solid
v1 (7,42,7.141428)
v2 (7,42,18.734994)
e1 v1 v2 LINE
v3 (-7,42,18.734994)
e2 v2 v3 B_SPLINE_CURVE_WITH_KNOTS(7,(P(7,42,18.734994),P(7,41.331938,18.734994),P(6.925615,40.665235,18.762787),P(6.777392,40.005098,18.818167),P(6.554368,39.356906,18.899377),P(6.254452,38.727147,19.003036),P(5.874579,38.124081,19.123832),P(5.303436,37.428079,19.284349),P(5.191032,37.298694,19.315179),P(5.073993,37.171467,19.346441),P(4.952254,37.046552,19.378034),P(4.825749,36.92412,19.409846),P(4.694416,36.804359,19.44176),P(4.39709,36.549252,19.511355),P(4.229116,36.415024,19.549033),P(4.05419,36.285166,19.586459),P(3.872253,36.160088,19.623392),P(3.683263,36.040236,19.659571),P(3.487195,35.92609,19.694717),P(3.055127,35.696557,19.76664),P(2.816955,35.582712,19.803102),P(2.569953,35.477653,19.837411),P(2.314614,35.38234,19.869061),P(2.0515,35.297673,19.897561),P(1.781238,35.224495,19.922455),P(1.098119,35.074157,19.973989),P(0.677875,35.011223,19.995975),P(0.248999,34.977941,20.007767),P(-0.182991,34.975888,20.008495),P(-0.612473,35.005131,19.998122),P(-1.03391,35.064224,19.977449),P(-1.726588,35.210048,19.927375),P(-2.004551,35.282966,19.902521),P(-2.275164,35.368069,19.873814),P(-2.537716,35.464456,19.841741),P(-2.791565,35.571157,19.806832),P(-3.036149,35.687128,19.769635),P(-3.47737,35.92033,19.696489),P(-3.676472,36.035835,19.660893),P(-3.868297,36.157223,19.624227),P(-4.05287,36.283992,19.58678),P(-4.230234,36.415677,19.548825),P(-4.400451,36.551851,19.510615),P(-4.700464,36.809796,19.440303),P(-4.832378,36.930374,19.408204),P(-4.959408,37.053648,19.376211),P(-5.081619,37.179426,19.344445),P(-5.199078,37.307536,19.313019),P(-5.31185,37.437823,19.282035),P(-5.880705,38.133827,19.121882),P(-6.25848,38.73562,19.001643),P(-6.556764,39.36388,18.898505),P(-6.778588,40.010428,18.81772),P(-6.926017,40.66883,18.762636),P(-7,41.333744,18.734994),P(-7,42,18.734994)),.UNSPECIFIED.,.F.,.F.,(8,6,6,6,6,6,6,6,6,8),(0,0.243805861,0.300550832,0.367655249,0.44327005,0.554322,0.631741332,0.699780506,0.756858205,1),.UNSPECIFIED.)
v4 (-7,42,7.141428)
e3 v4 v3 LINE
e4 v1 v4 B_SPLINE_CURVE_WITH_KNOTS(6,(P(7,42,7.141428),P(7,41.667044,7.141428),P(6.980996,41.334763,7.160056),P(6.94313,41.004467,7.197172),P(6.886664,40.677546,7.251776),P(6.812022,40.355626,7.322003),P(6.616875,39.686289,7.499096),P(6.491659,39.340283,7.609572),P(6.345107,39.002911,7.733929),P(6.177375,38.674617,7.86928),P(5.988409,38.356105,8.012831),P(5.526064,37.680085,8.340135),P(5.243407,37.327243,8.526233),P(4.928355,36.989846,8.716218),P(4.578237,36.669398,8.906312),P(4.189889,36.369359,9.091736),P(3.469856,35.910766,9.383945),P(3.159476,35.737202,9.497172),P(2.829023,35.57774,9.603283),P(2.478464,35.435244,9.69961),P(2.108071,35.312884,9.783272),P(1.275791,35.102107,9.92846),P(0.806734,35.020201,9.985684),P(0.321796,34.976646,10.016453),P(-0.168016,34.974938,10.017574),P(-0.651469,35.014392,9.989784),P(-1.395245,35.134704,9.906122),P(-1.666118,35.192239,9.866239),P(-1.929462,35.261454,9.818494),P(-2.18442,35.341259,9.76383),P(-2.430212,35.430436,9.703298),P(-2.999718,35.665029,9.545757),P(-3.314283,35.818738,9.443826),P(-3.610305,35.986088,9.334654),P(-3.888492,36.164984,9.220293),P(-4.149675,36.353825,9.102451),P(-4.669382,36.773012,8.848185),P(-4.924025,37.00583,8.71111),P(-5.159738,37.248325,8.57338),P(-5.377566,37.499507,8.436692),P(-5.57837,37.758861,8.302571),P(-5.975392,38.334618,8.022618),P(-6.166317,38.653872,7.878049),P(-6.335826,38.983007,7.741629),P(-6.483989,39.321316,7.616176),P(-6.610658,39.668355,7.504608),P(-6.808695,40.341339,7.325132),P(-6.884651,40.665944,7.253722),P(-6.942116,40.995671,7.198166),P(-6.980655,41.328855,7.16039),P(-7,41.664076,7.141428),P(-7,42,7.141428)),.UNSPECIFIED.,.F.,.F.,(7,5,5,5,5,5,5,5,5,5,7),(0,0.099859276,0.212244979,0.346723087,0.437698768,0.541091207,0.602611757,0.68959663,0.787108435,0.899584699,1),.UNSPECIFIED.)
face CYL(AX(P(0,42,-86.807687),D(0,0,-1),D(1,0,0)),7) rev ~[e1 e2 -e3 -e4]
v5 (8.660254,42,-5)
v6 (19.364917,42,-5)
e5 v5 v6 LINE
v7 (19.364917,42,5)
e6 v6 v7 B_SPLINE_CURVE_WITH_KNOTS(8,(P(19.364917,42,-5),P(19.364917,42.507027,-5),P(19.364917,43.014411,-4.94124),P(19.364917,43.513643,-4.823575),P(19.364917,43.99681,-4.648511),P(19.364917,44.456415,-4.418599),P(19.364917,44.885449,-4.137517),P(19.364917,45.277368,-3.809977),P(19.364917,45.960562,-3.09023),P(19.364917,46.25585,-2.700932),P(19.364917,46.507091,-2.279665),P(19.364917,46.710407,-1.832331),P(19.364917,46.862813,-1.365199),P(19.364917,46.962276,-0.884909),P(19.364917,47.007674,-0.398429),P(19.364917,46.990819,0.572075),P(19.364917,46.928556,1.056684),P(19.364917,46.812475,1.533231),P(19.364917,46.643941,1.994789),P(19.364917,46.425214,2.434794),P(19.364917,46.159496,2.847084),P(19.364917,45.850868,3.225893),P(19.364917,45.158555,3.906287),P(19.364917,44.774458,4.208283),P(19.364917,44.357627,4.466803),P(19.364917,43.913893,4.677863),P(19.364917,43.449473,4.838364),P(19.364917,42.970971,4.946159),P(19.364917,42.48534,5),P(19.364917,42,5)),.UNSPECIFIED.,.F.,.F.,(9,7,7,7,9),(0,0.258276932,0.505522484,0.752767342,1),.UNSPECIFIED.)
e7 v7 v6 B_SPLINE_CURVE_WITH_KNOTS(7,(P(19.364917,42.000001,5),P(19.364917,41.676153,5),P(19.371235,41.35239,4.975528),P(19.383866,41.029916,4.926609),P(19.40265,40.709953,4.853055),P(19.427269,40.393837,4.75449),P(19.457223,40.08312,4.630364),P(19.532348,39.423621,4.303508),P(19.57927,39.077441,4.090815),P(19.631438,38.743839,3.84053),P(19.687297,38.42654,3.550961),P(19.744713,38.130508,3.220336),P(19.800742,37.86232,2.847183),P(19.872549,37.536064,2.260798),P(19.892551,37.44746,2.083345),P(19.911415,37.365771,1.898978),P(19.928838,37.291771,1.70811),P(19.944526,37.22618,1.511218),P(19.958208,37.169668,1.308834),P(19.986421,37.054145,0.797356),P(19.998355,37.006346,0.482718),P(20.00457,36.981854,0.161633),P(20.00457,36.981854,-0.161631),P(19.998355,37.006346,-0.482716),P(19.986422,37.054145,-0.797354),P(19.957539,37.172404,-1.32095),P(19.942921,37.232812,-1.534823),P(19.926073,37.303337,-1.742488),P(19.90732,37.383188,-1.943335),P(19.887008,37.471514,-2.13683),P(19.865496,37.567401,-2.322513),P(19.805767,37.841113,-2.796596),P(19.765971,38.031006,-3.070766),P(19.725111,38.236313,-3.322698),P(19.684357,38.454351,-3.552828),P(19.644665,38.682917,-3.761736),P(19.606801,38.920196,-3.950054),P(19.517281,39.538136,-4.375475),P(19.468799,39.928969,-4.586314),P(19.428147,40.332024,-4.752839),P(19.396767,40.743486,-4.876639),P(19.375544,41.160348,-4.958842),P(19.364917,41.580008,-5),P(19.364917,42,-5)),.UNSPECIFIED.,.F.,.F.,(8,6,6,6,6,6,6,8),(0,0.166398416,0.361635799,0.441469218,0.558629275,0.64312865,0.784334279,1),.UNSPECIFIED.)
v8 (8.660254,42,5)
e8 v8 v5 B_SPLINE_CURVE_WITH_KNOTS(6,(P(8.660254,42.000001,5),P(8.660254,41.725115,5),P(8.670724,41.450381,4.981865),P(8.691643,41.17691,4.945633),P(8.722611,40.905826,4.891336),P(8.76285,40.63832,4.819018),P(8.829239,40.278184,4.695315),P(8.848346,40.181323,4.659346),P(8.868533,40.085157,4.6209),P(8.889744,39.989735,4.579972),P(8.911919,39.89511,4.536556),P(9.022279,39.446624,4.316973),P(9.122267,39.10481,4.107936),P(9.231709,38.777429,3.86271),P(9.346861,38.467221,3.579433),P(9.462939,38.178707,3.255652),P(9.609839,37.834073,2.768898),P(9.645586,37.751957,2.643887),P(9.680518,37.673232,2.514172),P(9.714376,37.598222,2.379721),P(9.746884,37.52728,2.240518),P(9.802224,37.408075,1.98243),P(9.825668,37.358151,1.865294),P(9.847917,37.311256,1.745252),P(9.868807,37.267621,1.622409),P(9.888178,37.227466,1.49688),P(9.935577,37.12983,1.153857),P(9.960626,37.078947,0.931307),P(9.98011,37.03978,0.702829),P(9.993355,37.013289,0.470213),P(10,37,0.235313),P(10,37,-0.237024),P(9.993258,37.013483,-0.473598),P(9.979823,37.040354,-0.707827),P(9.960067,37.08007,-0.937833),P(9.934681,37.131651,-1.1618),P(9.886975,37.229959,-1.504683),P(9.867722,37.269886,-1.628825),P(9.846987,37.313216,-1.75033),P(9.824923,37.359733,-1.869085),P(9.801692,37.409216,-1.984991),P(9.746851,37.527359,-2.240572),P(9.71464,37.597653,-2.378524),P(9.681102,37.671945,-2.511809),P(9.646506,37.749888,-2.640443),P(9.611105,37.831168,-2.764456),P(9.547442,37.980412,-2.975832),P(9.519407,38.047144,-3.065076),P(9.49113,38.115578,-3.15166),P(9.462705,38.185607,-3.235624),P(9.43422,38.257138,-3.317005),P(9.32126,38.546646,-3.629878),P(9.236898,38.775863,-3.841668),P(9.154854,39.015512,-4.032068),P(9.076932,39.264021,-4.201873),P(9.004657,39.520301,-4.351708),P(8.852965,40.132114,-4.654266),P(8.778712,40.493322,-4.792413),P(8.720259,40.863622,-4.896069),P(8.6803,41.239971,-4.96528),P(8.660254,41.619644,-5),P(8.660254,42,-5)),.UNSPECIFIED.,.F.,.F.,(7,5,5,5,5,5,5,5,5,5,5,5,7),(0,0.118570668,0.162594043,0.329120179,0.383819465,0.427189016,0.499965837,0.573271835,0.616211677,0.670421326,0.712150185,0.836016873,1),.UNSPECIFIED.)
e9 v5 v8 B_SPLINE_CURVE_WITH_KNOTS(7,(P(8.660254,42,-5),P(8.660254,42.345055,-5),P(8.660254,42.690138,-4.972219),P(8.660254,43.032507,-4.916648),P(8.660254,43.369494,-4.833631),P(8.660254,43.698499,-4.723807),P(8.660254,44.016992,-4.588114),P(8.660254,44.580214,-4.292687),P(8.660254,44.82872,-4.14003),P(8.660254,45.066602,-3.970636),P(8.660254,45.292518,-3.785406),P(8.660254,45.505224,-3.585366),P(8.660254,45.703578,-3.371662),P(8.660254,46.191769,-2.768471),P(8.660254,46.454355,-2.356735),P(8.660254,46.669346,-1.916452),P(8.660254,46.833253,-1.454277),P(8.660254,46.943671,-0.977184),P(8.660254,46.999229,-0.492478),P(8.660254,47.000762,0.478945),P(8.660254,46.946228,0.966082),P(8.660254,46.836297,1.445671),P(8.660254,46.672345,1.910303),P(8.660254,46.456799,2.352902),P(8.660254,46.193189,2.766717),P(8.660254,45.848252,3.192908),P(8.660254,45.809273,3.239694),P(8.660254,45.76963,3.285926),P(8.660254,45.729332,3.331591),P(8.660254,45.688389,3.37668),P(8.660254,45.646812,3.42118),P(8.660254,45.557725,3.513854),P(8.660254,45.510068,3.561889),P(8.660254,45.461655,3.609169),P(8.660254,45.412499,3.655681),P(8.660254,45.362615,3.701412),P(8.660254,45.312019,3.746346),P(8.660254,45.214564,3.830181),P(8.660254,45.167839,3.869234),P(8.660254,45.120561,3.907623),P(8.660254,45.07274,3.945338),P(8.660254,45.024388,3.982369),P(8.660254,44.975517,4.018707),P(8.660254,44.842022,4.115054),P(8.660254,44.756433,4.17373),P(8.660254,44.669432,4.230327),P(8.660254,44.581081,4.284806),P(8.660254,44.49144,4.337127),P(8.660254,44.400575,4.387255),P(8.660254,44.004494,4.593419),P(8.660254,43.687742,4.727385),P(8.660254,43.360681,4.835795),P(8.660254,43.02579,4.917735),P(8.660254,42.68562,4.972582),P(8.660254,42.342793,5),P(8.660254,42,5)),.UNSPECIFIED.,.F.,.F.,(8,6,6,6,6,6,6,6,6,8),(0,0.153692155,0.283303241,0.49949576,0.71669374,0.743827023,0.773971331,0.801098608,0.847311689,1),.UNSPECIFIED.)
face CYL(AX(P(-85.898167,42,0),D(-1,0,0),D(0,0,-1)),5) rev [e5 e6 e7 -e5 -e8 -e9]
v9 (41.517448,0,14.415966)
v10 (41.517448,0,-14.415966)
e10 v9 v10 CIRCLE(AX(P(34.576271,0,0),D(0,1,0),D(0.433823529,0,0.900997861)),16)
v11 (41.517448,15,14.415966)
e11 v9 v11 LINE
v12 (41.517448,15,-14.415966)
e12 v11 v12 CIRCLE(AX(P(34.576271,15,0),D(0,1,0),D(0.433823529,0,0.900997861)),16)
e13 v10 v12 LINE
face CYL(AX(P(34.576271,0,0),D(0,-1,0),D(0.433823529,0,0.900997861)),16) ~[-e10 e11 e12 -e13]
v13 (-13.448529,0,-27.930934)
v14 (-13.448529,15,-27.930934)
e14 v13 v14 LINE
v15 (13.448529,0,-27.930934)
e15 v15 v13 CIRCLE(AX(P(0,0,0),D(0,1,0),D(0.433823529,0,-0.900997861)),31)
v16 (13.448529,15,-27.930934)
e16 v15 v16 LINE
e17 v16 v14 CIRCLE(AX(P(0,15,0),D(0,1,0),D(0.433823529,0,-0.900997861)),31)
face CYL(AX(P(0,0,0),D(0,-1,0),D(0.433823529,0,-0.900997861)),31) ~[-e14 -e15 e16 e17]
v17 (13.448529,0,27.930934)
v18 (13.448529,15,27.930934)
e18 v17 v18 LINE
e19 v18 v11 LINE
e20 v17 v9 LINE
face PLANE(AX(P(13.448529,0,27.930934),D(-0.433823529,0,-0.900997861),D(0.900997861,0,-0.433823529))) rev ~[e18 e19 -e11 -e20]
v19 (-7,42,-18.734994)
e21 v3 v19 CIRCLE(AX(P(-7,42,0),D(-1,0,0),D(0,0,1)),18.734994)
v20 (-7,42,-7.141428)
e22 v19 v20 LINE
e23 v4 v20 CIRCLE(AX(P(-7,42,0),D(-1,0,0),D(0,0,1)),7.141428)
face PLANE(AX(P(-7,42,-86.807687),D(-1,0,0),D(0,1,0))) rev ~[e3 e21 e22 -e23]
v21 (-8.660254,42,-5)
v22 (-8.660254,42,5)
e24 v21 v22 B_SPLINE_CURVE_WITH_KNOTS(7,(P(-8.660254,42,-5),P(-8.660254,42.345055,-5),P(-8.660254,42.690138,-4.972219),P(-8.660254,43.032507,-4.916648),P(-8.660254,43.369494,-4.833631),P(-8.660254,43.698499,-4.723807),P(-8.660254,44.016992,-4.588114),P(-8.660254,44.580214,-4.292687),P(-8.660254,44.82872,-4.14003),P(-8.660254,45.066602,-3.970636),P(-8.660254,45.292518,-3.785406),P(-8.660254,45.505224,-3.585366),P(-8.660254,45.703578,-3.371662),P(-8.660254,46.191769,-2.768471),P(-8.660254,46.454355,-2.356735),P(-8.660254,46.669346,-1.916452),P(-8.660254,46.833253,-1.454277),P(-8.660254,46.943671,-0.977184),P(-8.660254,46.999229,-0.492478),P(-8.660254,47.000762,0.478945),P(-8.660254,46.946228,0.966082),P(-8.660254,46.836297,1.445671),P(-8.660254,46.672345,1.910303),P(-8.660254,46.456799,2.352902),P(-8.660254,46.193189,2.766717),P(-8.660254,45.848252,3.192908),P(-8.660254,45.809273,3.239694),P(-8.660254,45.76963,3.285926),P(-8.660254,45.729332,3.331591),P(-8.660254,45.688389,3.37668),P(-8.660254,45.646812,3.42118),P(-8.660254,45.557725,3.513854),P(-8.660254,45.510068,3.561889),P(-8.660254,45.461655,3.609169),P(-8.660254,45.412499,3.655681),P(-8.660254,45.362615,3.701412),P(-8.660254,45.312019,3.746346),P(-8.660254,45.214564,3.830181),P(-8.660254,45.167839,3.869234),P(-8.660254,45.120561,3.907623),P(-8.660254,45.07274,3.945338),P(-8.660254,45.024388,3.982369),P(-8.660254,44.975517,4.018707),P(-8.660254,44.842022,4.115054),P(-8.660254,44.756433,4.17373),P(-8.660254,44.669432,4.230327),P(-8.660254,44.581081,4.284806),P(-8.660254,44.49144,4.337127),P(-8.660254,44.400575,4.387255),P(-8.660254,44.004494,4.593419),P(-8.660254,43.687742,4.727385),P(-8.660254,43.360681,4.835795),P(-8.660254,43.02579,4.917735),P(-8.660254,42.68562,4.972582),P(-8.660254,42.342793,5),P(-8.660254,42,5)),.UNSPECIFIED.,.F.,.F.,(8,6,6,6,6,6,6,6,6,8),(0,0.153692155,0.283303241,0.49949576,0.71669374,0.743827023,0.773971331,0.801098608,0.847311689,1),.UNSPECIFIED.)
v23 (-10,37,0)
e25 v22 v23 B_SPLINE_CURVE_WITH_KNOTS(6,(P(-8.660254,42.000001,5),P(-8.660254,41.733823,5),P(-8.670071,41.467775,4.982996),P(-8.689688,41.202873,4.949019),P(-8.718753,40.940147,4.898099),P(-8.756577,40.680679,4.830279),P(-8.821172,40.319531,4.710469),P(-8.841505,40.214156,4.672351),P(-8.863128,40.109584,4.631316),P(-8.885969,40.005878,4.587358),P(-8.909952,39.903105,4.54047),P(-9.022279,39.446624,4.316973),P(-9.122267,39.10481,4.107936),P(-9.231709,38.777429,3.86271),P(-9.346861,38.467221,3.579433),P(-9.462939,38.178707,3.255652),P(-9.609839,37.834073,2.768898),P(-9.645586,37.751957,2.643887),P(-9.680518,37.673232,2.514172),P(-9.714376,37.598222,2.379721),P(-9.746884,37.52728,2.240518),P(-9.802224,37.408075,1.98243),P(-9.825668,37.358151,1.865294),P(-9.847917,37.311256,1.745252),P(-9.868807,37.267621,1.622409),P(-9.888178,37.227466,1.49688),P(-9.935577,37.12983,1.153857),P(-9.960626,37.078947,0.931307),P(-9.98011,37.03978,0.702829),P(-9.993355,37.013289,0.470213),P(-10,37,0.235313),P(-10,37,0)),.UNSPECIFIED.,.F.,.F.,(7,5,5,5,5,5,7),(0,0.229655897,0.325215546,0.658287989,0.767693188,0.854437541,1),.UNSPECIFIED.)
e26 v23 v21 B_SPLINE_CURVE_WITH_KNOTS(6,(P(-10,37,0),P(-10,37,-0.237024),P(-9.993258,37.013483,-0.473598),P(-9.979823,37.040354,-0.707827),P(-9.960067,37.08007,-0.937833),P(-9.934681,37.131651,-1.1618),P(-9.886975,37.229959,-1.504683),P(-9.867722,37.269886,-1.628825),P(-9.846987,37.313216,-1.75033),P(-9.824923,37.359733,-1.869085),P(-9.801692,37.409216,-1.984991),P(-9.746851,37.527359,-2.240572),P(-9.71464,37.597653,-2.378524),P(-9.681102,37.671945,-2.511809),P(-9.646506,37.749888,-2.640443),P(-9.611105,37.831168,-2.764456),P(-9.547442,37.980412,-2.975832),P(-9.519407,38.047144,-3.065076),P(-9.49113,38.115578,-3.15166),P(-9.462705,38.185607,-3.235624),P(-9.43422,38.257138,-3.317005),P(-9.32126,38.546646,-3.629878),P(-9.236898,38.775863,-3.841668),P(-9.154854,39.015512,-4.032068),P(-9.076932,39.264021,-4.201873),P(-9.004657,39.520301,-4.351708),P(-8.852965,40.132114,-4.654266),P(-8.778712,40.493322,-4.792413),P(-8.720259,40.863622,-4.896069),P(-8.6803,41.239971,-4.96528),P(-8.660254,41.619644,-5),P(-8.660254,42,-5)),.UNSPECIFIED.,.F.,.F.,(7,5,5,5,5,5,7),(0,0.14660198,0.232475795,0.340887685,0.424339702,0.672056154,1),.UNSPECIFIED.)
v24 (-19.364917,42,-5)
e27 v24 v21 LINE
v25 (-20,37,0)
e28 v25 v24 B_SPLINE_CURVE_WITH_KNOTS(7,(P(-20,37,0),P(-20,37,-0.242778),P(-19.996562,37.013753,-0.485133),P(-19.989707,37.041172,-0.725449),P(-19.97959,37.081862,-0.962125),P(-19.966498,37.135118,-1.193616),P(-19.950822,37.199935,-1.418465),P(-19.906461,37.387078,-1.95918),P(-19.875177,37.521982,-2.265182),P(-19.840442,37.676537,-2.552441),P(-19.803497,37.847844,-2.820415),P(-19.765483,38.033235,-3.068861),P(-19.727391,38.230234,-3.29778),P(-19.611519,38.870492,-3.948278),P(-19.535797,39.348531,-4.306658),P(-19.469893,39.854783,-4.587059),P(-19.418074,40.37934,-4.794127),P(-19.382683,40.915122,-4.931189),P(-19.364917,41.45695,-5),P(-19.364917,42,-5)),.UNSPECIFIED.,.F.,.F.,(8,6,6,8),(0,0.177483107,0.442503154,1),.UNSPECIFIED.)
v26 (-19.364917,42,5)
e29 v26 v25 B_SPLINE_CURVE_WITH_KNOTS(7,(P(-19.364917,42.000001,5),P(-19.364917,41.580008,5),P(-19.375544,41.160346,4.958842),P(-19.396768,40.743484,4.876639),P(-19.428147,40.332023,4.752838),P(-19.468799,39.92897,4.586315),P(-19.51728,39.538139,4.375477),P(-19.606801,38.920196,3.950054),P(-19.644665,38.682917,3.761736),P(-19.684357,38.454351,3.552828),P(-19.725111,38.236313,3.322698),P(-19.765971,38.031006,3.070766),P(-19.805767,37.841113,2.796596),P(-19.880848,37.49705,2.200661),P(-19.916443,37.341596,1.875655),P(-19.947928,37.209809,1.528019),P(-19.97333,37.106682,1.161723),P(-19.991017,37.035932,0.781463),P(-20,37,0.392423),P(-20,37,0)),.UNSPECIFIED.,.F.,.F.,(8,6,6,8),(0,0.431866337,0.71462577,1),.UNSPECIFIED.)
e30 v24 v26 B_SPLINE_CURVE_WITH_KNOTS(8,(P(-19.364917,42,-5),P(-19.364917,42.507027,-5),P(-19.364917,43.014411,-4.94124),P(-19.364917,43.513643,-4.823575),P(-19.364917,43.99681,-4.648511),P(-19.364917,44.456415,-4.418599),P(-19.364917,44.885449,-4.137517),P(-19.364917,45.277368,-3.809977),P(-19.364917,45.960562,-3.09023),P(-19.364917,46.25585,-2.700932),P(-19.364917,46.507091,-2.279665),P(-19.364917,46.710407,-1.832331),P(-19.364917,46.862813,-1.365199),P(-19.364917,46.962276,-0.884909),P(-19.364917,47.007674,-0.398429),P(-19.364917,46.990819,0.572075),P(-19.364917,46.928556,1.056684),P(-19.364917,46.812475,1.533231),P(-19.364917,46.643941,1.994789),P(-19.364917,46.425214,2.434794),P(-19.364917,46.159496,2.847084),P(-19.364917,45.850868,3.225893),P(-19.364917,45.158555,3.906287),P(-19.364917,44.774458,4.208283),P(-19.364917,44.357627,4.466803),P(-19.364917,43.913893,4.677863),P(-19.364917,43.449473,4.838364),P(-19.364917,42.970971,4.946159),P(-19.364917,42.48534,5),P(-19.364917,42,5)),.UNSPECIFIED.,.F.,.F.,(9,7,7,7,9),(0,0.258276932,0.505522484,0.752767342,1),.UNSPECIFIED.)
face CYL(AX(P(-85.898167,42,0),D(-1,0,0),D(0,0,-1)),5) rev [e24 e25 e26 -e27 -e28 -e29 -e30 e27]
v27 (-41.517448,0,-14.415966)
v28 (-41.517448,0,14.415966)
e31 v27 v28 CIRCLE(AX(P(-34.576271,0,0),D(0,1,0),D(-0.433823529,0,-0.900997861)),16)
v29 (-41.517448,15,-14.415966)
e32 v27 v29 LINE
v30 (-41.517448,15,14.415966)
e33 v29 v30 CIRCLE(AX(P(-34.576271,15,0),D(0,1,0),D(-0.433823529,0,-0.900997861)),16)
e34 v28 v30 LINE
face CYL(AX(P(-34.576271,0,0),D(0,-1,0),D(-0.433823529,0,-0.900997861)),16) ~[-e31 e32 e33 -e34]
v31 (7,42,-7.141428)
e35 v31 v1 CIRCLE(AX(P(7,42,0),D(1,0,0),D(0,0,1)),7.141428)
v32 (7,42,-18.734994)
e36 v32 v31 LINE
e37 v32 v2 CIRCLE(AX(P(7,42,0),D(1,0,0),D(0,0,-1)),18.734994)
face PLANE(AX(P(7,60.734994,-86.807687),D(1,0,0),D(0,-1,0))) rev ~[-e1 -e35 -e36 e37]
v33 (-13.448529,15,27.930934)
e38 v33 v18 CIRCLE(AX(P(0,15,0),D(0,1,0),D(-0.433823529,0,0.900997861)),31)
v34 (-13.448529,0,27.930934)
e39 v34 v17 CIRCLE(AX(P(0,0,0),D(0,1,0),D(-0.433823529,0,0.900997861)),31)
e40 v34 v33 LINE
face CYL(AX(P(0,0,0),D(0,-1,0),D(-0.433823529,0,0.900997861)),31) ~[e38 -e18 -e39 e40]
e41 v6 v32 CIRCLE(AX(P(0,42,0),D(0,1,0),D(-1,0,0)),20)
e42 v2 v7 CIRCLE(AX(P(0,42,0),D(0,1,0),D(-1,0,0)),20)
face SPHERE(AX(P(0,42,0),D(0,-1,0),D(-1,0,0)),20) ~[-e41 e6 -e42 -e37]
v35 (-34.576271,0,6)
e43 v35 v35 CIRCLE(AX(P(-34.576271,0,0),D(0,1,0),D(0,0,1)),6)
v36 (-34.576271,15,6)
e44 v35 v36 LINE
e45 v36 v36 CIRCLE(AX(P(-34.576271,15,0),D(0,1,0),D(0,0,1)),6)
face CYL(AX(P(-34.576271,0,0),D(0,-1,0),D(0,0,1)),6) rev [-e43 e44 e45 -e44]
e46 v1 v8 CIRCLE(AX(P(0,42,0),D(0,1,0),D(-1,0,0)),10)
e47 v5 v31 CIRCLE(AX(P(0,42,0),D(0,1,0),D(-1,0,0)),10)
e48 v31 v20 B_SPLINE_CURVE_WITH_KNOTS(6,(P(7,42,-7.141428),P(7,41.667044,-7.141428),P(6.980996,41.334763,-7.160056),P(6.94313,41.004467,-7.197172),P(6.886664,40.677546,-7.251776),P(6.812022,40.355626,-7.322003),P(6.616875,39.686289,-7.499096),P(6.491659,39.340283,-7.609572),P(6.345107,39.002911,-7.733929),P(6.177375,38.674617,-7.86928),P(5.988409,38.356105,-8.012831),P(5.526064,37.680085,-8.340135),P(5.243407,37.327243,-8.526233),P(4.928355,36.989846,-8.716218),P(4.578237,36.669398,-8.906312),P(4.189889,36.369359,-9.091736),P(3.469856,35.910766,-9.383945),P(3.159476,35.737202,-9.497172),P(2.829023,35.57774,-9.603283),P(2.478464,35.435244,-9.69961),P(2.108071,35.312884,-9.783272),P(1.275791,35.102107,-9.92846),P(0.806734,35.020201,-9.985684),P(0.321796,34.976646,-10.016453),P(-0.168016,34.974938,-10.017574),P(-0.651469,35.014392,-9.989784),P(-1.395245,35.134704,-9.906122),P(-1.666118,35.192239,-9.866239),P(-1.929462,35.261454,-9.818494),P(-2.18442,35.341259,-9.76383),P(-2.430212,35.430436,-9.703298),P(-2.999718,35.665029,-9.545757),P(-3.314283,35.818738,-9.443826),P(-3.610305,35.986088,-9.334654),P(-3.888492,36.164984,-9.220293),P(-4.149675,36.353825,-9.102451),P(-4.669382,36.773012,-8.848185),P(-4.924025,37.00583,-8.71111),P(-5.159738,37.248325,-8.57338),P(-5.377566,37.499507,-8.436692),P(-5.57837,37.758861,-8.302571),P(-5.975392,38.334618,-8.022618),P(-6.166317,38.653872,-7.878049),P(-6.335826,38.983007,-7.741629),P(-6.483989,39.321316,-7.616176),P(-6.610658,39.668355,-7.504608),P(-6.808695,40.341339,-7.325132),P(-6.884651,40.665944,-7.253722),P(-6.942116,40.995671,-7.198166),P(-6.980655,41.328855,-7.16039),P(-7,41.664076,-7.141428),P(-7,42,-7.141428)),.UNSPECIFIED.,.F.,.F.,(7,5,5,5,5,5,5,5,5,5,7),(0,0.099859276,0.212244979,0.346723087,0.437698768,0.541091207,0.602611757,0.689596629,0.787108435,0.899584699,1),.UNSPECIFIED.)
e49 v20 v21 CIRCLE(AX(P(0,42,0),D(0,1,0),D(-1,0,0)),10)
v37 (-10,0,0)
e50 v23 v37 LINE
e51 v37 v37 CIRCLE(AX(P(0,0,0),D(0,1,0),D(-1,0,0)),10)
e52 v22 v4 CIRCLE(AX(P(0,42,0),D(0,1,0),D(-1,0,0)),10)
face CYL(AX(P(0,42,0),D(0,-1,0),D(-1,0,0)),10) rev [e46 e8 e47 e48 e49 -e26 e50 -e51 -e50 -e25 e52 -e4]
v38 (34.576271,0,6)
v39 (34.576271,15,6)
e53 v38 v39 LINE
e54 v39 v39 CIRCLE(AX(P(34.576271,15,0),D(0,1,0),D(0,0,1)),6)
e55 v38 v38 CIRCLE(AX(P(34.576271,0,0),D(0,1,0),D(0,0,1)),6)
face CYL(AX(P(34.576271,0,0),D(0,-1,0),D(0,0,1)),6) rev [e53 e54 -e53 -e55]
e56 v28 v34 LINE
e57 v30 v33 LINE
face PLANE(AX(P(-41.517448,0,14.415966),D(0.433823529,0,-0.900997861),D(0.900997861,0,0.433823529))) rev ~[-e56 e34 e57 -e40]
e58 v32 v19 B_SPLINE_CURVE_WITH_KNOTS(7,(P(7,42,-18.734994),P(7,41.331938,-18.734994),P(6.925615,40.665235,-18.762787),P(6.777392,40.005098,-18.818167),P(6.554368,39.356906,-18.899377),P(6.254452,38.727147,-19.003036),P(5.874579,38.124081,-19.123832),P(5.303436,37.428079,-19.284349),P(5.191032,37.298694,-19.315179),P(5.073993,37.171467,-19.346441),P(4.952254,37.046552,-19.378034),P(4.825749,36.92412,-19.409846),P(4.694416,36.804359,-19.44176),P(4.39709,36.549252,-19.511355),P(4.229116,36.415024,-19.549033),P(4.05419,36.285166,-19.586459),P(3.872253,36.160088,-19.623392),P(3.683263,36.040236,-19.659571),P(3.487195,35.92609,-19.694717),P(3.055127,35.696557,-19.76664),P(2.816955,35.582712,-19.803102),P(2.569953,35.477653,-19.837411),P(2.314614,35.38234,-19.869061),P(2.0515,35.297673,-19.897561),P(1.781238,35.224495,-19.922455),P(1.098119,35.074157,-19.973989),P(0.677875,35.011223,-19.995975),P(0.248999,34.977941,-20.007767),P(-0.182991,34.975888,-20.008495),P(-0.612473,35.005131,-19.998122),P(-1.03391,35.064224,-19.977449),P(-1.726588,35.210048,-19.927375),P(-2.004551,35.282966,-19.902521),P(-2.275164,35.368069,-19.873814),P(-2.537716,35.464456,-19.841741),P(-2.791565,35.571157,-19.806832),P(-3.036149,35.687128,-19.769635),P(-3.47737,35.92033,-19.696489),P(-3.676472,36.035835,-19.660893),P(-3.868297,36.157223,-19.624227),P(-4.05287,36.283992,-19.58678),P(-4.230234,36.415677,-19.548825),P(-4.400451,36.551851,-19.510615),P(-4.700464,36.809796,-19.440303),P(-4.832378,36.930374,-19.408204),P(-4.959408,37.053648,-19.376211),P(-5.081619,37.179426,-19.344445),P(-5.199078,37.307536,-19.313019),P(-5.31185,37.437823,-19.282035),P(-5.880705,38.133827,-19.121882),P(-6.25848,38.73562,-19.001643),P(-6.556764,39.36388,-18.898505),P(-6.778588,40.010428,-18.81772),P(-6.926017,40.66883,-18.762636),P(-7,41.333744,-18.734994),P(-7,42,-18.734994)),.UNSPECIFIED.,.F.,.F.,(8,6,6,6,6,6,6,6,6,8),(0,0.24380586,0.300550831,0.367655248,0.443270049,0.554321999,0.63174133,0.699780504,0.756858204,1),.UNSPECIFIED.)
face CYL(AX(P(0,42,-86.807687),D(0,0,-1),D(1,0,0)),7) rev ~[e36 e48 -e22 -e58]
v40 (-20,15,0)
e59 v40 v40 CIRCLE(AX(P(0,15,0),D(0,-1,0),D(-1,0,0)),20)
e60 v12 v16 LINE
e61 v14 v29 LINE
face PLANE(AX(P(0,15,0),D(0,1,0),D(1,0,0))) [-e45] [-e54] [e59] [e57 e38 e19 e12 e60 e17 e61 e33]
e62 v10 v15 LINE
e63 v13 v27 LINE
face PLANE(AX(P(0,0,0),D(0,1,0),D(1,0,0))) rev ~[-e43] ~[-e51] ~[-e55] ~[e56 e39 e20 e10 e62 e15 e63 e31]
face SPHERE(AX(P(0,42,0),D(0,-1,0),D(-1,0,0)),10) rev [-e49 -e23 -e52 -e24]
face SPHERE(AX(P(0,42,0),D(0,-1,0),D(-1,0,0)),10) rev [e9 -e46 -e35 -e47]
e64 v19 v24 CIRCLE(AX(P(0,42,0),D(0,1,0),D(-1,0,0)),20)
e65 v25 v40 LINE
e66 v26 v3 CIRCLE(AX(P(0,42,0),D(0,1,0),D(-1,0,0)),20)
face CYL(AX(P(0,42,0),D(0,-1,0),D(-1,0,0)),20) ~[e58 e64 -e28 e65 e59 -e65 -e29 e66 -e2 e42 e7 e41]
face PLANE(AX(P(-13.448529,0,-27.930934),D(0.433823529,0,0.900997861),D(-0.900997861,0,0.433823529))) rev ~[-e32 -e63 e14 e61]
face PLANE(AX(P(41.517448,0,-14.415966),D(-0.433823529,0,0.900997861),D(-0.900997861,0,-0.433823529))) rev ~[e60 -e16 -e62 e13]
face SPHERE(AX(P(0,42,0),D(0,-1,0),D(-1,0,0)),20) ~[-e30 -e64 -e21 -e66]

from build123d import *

# Parameters (mm, degrees)
SKETCH1_R               = 6.000000000045659
SKETCH1_R_2             = 6.000000000000002
BOSS_EXTRUDE3_DEPTH     = 15
CUT_EXTRUDE1_DEPTH      = 86.80768734285536
CUT_EXTRUDE1_DEPTH_BACK = 86.80768734285536
CUT_EXTRUDE2_DEPTH      = 85.89816666292398
CUT_EXTRUDE2_DEPTH_BACK = 85.89816666292398
SKETCH8_R               = 4.999999999999999


with BuildPart() as part:
    # Sketch1 → Boss-Extrude3 (new body)
    with BuildSketch(Plane(origin=(0, 0, 0), x_dir=(1, 0, 0), z_dir=(0, 1, 0))):
        with BuildLine():
            Line((13.448529411746133, -27.930933687605208), (41.51744765706708, -14.415965774247848))
            ThreePointArc((41.51744765706708, -14.415965774247848), (50.57627118648844, 3.55e-15), (41.51744765706708, 14.415965774247855))
            Line((41.51744765706708, 14.415965774247855), (13.448529411746131, 27.930933687605208))
            ThreePointArc((13.448529411746131, 27.930933687605208), (1.9e-15, 31.000000000000004), (-13.448529411746135, 27.930933687605208))
            Line((-13.448529411746135, 27.930933687605208), (-41.51744765706708, 14.415965774247852))
            ThreePointArc((-41.51744765706708, 14.415965774247852), (-50.576271186488434, 1.96e-15), (-41.51744765706708, -14.415965774247852))
            Line((-41.51744765706708, -14.415965774247852), (-13.448529411746136, -27.93093368760521))
            ThreePointArc((-13.448529411746136, -27.93093368760521), (1.9e-15, -31.000000000000007), (13.448529411746133, -27.930933687605208))
        make_face()
        with Locations(Location((-34.57627118648843, 0, 0), (0, 0, 270))):
            Circle(SKETCH1_R, mode=Mode.SUBTRACT)
        with Locations(Location((34.57627118648844, 0, 0), (0, 0, 270))):
            Circle(SKETCH1_R_2, mode=Mode.SUBTRACT)
    extrude(amount=BOSS_EXTRUDE3_DEPTH)

    # Sketch5 → Revolve1 (revolve)
    with BuildSketch(Plane.XY):
        with BuildLine():
            Line((0, 0), (0, 42))
            Line((0, 42), (-6.983e-14, 62.00000000000001))
            ThreePointArc((-6.983e-14, 62.00000000000001), (-14.14213562373098, 56.14213562373093), (-20, 42))
            Line((-20, 42), (-19.999999999999996, 0))
            Line((-19.999999999999996, 0), (0, 0))
        make_face()
    revolve(axis=Axis((0, 0, 0), (0, 1, 0)))

    # Sketch6 → Cut-Revolve1 (revolve, cut)
    with BuildSketch(Plane.XY):
        with BuildLine():
            Line((-1.73e-15, 0), (0, 42))
            Line((0, 42), (0, 52.00000000000001))
            ThreePointArc((0, 52.00000000000001), (-7.07106781186548, 49.07106781186548), (-9.999999999999998, 42))
            Line((-9.999999999999998, 42), (-9.999999999999995, 2.1e-16))
            Line((-9.999999999999995, 2.1e-16), (-1.73e-15, 0))
        make_face()
    revolve(axis=Axis((-1.73e-15, 0, 0), (4e-17, 1, 0)), mode=Mode.SUBTRACT)

    # Sketch7 → Cut-Extrude1 (cut, two sides: drawn at the far end of the back side and taken through both)
    with BuildSketch(Plane.XY.offset(-CUT_EXTRUDE1_DEPTH_BACK)):
        with BuildLine():
            Line((-6.999999999999999, 42), (-6.999999999999999, 60.734993995195204))
            ThreePointArc((-6.999999999999999, 60.734993995195204), (1.22e-15, 62.00000000000001), (6.999999999999999, 60.734993995195204))
            Line((6.999999999999999, 60.734993995195204), (6.999999999999999, 42))
            ThreePointArc((6.999999999999999, 42), (-1.29e-15, 35), (-6.999999999999999, 42))
        make_face()
    extrude(amount=CUT_EXTRUDE1_DEPTH + CUT_EXTRUDE1_DEPTH_BACK, mode=Mode.SUBTRACT)

    # Sketch8 → Cut-Extrude2 (cut, two sides: drawn at the far end of the back side and taken through both)
    with BuildSketch(Plane(origin=(0, 0, 0), x_dir=(0, 0, -1), z_dir=(1, 0, 0)).offset(-CUT_EXTRUDE2_DEPTH_BACK)):
        with Locations((3.47e-15, 42)):
            Circle(SKETCH8_R)
    extrude(amount=CUT_EXTRUDE2_DEPTH + CUT_EXTRUDE2_DEPTH_BACK, mode=Mode.SUBTRACT)


solid = part.part
